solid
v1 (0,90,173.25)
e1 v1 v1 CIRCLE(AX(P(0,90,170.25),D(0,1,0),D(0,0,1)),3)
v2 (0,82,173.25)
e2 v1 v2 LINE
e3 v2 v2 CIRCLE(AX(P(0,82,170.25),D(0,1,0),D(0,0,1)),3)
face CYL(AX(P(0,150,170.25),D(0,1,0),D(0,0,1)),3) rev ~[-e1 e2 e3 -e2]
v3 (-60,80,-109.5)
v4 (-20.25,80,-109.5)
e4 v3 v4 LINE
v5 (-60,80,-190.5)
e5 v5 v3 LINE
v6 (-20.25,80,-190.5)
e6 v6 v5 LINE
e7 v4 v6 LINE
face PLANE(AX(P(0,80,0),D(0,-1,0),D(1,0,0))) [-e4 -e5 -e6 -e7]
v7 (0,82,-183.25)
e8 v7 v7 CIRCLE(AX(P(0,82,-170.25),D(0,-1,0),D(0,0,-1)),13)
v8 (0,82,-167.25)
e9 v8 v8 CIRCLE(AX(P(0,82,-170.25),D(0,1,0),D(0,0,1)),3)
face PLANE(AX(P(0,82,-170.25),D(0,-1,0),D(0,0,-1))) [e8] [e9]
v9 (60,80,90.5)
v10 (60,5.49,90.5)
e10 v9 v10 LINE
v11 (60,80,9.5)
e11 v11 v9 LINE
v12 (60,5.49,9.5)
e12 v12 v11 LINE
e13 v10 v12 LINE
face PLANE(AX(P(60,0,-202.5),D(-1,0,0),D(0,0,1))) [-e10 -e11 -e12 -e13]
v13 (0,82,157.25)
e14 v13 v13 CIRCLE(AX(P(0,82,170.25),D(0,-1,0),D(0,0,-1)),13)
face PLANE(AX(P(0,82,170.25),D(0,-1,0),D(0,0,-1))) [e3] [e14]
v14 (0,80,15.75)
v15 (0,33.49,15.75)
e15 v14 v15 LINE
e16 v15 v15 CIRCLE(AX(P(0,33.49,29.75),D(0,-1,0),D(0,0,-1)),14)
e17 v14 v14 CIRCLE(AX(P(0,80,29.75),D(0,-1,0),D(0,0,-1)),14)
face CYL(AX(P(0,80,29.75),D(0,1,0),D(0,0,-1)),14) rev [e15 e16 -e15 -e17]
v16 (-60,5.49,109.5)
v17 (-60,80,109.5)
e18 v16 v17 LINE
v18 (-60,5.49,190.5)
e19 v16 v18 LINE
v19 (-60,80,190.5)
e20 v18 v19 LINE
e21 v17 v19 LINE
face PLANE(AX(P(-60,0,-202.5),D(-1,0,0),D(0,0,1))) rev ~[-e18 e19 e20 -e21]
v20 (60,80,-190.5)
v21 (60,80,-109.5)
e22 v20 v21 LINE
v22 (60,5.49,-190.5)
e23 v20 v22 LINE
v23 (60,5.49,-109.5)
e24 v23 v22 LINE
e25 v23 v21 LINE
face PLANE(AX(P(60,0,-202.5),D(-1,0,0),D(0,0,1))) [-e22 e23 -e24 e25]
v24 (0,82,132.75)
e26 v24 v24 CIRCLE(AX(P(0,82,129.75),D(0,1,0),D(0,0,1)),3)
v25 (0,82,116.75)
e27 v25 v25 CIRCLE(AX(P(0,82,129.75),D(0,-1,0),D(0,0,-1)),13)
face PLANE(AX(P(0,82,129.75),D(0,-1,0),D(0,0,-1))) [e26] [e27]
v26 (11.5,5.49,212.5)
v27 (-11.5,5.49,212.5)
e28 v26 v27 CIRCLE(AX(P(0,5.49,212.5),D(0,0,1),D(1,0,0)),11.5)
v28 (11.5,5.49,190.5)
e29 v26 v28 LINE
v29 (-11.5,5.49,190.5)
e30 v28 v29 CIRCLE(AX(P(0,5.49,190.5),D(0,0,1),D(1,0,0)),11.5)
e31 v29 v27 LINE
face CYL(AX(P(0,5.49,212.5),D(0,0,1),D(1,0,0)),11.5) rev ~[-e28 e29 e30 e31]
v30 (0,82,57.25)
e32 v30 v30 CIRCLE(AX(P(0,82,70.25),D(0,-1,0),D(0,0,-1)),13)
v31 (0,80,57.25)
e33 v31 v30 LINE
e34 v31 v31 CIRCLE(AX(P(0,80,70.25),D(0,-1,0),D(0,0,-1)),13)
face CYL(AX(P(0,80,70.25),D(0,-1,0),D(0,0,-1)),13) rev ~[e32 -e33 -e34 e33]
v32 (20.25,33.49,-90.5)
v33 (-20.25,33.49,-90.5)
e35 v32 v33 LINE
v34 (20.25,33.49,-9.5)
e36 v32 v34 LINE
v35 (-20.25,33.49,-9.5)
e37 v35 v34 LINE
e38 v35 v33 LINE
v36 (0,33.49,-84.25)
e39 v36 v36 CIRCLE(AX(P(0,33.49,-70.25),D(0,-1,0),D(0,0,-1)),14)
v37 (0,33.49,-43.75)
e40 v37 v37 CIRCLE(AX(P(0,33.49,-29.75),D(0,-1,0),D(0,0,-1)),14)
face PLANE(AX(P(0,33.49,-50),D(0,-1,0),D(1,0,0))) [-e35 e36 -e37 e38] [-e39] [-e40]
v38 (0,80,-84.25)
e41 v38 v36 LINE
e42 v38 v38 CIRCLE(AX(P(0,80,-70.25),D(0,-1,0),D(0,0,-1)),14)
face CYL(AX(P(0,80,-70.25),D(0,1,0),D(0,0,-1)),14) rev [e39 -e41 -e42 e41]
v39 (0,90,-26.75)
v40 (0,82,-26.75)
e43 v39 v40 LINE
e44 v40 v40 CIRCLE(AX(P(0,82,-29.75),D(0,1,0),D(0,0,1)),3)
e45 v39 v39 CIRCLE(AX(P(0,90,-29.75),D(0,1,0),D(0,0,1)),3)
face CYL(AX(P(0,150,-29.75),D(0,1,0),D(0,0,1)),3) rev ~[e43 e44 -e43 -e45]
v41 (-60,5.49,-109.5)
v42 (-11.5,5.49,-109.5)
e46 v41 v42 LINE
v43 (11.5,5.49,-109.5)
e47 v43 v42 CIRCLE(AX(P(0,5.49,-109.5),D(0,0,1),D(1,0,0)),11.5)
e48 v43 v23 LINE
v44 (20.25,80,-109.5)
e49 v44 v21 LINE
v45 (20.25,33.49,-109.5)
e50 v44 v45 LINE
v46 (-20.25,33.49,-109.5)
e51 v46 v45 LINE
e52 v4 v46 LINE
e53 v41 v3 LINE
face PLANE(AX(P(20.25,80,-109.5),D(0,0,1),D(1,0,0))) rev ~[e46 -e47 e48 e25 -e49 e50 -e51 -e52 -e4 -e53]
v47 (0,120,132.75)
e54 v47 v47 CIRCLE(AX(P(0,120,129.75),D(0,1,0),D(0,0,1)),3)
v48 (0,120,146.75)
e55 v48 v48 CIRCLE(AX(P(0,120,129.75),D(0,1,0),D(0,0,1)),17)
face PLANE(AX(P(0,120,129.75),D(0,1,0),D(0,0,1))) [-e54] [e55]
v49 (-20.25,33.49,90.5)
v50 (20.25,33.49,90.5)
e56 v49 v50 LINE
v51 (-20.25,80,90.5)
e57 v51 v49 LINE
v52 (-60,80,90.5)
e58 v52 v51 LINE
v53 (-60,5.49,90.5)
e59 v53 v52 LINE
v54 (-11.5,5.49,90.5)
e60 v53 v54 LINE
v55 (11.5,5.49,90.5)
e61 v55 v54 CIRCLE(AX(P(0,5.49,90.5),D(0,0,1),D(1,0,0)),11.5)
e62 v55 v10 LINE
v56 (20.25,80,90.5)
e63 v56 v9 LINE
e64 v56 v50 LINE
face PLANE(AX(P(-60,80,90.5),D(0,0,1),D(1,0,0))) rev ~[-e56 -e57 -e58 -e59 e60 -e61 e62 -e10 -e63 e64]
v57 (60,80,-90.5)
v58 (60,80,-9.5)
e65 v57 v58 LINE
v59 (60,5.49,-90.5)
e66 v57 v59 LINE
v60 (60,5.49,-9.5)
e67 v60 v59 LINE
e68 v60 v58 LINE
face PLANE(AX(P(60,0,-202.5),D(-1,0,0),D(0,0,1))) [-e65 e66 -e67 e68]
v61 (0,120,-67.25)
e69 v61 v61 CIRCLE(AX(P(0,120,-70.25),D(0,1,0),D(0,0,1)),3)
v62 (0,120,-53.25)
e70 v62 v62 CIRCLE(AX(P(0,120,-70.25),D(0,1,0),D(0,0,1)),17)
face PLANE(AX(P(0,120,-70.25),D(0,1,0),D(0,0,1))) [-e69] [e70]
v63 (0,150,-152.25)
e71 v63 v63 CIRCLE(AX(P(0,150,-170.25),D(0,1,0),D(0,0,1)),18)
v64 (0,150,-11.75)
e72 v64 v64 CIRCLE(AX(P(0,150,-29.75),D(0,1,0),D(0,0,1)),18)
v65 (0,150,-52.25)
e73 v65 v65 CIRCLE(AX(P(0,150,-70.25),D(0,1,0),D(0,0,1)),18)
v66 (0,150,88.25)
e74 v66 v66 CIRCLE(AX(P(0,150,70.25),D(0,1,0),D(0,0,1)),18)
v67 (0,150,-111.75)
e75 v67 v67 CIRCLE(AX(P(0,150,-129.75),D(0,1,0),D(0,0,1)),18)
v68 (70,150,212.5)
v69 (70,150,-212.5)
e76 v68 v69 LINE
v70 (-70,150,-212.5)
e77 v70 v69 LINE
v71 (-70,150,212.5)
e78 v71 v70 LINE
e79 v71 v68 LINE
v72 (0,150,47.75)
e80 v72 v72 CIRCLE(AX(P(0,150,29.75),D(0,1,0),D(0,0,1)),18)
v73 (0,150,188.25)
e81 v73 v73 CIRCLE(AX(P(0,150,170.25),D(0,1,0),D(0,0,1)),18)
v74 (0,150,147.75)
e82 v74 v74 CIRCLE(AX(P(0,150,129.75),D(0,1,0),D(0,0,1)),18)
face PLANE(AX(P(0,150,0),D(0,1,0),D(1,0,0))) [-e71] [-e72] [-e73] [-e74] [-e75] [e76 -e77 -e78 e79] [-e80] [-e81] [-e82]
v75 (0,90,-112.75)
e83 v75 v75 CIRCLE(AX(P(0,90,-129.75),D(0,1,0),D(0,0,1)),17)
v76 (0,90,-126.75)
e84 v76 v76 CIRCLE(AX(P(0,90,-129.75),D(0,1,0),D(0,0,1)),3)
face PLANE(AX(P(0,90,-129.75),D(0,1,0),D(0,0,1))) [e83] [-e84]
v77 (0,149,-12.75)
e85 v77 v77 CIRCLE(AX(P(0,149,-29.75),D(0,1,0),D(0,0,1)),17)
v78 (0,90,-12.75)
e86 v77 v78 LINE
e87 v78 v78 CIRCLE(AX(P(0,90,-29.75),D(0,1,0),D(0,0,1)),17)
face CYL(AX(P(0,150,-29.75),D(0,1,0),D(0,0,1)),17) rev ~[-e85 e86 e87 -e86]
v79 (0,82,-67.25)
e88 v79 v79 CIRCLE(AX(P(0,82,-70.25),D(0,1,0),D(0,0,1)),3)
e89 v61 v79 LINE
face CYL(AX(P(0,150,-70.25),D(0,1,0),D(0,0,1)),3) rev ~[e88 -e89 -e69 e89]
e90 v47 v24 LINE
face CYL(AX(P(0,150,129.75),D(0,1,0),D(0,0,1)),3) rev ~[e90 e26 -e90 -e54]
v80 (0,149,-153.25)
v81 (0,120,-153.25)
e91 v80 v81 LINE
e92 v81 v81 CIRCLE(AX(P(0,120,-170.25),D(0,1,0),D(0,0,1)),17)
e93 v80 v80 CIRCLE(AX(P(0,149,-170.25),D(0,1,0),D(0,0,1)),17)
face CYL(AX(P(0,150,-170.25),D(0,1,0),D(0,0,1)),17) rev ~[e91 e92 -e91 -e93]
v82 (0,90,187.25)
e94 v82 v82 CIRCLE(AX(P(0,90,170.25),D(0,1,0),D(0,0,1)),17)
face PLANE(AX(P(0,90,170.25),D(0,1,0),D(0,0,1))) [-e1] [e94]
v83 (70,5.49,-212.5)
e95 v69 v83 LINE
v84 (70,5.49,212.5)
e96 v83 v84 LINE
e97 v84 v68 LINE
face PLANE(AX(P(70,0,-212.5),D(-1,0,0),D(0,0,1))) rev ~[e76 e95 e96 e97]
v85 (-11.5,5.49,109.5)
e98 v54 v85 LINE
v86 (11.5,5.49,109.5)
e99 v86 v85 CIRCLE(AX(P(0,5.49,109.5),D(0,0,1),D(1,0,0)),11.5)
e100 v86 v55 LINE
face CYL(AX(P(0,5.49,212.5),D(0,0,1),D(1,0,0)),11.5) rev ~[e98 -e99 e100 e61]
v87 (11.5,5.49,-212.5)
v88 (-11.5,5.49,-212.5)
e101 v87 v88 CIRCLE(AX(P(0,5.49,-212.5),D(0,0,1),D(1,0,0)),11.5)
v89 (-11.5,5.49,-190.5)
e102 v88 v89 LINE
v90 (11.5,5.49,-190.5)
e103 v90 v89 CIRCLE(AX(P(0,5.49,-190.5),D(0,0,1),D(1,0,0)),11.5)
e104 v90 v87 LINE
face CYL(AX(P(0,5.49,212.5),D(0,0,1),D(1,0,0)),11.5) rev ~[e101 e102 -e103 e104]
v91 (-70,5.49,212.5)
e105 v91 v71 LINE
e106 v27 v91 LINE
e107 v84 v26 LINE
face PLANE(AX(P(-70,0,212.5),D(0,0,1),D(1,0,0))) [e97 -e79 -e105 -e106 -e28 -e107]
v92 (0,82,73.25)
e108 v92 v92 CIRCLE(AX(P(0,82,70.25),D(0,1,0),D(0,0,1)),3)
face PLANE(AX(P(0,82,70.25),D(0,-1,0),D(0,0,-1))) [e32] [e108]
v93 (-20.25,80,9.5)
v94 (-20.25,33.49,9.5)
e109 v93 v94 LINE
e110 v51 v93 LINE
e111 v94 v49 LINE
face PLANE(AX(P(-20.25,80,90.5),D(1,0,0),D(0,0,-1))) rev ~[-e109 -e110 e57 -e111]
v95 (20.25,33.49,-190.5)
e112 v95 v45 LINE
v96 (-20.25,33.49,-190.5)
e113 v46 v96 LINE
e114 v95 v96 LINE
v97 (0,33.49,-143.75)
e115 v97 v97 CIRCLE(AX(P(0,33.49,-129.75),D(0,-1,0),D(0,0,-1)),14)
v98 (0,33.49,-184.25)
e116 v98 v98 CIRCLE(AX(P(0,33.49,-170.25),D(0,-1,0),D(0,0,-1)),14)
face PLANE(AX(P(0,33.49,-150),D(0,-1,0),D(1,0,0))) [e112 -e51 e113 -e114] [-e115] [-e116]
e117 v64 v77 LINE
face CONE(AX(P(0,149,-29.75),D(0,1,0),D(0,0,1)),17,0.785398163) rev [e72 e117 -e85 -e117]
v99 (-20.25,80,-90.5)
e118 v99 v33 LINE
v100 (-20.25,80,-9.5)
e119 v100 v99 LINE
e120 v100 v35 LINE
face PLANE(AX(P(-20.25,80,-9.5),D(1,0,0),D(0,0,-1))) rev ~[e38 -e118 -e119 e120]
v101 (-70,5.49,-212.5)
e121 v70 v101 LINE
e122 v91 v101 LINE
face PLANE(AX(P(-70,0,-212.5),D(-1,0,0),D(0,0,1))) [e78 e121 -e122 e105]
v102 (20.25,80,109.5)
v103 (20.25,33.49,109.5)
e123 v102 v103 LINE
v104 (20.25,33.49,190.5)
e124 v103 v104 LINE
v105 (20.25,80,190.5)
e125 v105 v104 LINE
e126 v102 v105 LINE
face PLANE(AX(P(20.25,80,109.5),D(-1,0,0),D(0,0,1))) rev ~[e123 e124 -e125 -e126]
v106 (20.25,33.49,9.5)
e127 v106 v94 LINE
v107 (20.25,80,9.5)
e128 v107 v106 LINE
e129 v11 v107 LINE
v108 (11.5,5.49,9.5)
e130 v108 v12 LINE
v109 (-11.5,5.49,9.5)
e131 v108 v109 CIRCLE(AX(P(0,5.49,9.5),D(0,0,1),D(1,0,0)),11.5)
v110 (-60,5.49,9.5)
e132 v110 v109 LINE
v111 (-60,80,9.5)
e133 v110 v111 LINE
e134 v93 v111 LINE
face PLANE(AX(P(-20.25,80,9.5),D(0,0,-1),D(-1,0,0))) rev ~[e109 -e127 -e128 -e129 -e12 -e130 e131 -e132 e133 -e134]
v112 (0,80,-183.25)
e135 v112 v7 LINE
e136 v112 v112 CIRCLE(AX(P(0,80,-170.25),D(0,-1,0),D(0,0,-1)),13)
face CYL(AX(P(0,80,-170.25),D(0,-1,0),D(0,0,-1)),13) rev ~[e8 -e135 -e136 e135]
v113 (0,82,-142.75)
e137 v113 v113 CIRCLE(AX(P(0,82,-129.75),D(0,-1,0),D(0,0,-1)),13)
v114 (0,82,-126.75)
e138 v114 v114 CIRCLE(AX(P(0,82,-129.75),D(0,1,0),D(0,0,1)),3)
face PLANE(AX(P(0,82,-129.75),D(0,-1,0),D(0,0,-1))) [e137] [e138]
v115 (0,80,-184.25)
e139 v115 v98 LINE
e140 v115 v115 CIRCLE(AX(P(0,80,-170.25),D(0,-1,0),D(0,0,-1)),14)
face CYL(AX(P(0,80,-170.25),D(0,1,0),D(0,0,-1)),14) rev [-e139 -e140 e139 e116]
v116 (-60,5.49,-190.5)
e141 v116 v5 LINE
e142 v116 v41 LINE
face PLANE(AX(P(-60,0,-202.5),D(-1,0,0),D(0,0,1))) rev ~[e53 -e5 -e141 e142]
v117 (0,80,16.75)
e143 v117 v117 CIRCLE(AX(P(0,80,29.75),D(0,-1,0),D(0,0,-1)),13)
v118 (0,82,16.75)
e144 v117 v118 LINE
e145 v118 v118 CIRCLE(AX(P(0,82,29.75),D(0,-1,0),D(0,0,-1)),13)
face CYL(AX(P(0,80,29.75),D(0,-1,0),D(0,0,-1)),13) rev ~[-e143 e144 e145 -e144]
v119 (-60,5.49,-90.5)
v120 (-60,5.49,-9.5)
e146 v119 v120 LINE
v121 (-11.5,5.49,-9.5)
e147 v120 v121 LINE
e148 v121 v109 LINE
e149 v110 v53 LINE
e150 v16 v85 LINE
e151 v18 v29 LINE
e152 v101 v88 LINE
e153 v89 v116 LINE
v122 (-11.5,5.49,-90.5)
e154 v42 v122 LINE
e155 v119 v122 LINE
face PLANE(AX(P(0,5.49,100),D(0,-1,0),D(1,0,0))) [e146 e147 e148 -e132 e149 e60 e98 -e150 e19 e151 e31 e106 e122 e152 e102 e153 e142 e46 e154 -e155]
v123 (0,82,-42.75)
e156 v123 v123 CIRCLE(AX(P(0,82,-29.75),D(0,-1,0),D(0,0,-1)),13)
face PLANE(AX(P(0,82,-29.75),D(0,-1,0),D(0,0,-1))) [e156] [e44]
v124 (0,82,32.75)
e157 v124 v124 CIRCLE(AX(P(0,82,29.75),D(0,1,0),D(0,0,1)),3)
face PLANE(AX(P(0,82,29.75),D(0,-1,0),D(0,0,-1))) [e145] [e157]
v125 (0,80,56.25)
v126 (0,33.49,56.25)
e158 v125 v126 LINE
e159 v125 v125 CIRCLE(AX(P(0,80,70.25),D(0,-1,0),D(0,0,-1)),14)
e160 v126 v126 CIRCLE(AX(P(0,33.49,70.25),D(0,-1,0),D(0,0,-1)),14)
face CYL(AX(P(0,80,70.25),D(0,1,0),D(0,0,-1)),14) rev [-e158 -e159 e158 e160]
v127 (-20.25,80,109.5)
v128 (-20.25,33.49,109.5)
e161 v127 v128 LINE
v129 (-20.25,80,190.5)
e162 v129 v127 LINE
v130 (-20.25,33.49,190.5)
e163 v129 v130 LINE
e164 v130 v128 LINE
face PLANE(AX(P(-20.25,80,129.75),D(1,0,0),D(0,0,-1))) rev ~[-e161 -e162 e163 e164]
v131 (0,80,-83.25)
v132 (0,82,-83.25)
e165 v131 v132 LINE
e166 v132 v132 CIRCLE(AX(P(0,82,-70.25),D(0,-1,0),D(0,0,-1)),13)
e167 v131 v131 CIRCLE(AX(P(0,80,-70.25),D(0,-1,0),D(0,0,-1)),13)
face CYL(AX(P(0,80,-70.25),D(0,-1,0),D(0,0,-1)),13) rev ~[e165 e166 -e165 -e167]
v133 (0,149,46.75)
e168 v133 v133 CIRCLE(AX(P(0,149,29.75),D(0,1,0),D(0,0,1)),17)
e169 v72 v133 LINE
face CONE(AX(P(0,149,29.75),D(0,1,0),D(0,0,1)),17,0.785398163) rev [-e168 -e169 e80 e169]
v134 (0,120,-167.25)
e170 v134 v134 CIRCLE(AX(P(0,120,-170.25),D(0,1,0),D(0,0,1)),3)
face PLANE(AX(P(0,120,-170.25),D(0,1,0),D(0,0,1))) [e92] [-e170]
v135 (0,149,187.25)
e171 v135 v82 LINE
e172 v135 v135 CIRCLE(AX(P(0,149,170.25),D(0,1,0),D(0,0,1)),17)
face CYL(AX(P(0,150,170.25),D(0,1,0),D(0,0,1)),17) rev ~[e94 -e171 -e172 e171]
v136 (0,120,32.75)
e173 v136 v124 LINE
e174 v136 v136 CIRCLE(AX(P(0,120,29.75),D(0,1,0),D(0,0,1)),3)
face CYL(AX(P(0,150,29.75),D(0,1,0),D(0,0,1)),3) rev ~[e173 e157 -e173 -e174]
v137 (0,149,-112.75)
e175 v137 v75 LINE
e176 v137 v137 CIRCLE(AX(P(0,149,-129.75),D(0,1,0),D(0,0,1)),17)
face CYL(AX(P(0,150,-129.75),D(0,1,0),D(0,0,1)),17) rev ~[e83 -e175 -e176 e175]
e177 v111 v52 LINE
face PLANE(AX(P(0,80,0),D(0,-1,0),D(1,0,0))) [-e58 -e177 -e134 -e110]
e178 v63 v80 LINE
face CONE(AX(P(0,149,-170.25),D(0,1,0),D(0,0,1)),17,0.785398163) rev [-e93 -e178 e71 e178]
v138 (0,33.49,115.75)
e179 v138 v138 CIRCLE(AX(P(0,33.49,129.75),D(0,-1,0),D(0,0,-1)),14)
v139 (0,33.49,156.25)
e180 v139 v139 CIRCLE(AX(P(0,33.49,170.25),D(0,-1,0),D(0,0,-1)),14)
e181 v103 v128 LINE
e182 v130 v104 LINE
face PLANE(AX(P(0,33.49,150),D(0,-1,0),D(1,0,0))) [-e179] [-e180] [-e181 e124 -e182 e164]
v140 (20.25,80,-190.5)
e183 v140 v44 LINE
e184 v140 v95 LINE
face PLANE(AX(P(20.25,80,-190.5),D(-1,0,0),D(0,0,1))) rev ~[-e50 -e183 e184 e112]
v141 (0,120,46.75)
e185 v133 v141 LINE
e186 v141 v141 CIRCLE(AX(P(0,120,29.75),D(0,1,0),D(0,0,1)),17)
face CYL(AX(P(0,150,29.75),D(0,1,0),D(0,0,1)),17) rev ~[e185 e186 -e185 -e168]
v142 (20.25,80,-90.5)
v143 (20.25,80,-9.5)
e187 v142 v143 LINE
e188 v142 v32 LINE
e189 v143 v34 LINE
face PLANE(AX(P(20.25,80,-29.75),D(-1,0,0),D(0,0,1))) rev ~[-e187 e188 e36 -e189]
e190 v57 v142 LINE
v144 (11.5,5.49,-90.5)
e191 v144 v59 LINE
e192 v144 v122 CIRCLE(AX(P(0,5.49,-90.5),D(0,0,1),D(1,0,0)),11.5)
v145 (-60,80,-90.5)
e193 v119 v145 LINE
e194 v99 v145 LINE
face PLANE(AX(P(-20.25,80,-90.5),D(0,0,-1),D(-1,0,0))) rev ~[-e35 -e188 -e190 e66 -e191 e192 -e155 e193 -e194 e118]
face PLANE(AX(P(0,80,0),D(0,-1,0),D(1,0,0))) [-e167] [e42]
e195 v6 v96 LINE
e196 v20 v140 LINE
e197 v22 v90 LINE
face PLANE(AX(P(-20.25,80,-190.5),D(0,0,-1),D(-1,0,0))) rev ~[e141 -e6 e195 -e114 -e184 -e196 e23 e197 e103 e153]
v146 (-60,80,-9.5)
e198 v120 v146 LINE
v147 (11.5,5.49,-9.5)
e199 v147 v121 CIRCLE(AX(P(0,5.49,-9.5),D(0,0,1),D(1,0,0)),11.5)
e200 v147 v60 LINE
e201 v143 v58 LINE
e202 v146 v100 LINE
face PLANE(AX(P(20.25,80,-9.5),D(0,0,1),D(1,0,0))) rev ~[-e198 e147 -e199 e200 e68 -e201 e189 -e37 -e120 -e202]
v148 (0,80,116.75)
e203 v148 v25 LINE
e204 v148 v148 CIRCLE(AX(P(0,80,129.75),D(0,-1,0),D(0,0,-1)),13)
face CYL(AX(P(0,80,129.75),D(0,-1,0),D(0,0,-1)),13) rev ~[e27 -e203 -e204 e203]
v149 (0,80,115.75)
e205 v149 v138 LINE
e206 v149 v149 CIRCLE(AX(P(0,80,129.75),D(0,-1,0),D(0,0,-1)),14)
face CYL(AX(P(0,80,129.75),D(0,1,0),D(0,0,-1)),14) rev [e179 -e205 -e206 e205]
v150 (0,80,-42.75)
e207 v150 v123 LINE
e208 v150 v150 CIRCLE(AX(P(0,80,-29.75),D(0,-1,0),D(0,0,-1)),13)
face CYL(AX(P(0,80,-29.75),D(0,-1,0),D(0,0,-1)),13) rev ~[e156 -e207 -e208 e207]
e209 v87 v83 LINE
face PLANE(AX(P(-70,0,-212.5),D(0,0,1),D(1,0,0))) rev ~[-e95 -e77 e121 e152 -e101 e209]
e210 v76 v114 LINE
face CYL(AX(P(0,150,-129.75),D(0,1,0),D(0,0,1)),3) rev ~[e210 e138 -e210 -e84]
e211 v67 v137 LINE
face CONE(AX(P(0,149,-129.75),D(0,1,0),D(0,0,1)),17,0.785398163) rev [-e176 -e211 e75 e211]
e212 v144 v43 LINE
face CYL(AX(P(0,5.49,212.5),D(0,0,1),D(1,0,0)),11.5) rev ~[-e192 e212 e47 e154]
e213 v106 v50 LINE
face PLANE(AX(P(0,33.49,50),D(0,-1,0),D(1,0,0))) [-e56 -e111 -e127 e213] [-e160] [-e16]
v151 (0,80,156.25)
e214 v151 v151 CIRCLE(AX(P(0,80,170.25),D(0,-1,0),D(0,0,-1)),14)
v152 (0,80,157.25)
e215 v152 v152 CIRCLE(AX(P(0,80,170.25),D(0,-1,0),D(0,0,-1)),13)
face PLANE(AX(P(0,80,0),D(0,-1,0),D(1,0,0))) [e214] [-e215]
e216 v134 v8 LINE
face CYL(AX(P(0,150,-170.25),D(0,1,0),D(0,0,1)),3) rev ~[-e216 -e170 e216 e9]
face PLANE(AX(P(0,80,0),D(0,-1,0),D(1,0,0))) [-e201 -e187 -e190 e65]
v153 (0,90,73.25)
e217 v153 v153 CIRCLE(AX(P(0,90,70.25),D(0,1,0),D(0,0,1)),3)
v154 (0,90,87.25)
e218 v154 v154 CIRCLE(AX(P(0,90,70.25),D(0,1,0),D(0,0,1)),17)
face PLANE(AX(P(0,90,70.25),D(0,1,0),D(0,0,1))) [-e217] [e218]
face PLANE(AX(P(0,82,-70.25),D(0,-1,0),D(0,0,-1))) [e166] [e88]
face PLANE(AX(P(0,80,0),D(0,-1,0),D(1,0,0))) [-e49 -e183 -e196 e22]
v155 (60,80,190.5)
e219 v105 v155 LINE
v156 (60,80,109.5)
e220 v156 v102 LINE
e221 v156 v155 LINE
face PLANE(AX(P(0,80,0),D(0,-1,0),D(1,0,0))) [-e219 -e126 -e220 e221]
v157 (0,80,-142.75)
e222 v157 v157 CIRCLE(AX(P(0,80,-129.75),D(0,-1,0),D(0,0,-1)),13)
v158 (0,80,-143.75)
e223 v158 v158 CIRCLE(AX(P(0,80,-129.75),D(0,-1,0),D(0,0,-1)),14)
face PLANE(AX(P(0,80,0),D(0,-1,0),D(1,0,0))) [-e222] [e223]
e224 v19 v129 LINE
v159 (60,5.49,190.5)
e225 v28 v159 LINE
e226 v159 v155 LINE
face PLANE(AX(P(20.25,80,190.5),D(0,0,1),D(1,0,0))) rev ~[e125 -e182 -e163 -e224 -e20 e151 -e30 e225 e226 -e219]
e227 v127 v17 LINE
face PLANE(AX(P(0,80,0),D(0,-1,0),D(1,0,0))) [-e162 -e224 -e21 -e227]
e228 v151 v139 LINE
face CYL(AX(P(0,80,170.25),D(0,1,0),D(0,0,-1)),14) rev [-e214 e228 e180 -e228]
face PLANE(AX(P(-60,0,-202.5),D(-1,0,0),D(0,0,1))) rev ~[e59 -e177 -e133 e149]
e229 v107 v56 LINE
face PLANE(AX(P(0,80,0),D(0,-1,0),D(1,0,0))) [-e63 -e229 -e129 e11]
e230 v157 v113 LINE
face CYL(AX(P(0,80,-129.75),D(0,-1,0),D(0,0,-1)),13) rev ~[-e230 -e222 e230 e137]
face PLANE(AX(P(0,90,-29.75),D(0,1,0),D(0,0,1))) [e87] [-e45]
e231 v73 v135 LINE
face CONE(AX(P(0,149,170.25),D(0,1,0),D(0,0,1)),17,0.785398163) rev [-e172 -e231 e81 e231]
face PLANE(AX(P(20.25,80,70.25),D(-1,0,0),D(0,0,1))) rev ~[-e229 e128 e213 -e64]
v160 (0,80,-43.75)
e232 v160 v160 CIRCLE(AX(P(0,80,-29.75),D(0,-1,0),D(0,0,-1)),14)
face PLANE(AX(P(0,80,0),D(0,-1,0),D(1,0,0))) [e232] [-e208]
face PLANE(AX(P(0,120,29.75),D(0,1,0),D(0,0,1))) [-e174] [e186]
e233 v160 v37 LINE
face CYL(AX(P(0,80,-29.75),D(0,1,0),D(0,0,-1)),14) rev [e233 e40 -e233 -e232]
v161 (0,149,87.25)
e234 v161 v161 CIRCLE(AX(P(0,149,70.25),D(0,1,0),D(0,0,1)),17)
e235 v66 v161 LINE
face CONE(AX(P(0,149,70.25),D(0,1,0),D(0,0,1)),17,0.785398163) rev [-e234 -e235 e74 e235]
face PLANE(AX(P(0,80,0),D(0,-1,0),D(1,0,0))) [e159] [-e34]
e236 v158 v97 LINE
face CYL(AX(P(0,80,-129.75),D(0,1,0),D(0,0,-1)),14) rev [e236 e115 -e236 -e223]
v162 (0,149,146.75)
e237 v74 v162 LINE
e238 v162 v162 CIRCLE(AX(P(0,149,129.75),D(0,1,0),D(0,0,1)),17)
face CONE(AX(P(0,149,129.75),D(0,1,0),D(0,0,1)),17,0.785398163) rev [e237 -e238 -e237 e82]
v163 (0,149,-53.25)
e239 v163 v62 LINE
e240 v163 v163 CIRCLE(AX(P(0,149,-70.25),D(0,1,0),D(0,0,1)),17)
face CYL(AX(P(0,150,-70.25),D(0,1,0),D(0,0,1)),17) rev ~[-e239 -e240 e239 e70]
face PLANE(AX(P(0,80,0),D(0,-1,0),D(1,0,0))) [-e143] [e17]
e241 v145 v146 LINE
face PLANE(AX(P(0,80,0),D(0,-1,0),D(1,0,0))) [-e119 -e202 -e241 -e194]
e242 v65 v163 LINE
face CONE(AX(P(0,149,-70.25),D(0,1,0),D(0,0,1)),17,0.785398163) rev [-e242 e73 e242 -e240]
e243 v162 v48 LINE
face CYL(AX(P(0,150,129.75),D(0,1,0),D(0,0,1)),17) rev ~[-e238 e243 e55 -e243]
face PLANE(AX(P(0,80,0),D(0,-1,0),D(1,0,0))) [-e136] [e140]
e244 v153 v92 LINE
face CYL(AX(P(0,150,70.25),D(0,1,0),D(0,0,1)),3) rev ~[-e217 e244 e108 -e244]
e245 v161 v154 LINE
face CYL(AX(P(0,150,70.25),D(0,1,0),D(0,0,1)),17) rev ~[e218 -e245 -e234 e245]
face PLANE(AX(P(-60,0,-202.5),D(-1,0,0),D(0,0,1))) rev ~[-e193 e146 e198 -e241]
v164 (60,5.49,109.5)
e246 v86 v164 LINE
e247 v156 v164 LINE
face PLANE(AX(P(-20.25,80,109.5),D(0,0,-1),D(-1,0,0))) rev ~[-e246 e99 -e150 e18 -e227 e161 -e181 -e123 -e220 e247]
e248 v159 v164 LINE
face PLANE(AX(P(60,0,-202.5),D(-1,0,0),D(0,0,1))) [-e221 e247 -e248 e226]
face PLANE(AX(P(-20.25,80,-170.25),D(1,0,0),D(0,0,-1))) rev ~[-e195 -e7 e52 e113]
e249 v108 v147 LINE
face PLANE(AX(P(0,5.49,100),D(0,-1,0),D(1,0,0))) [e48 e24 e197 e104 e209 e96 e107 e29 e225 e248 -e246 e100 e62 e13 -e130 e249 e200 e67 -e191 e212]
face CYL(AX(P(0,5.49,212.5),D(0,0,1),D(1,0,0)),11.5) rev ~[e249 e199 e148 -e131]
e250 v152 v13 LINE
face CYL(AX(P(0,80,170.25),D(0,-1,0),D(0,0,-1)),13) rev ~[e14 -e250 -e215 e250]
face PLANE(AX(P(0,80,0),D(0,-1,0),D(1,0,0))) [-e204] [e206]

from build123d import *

# Parameters (mm, degrees)
SKETCH1_W            = 140
SKETCH1_H            = 425
BOSS_EXTRUDE1_DEPTH  = 150
SKETCH6_W            = 120
SKETCH6_H            = 405
CUT_EXTRUDE1_DEPTH   = 80
SKETCH7_R            = 3
CUT_EXTRUDE2_DEPTH   = 120
SKETCH9_R            = 17
SKETCH9_R_2          = 3
CUT_EXTRUDE4_DEPTH   = 60
SKETCH9_4_R          = 17
SKETCH9_4_R_2        = 3
CUT_EXTRUDE5_DEPTH   = 30
CHAMFER1_SIZE        = 1
SKETCH12_R           = 13
CUT_EXTRUDE6_DEPTH   = 2
SKETCH13_R           = 20.25
SKETCH13_R_2         = 14
BOSS_EXTRUDE6_DEPTH  = 46.51
SKETCH16_W           = 140
SKETCH16_H           = 425
SKETCH16_W_2         = 120
SKETCH16_H_2         = 405
BOSS_EXTRUDE7_DEPTH  = 48
BOSS_EXTRUDE18_DEPTH = 128
SKETCH22_W           = 120
SKETCH22_H           = 81
CUT_EXTRUDE9_DEPTH   = 81.49
CUT_EXTRUDE10_REACH  = 458.098
SKETCH18_R           = 11.5
CUT_EXTRUDE11_DEPTH  = 53.49
SKETCH24_W           = 120
SKETCH24_H           = 19
CUT_EXTRUDE12_DEPTH  = 53.49
SKETCH25_W           = 40.5
SKETCH25_H           = 22
CUT_EXTRUDE13_DEPTH  = 53.49


with BuildPart() as part:
    # Sketch1 → Boss-Extrude1 (new body)
    with BuildSketch(Plane(origin=(0, 0, 0), x_dir=(1, 0, 0), z_dir=(0, 1, 0))):
        Rectangle(SKETCH1_W, SKETCH1_H)
    extrude(amount=BOSS_EXTRUDE1_DEPTH)

    # Sketch6 → Cut-Extrude1 (cut)
    with BuildSketch(Plane.XZ):
        Rectangle(SKETCH6_W, SKETCH6_H)
    extrude(amount=-CUT_EXTRUDE1_DEPTH, mode=Mode.SUBTRACT)

    # Sketch7 → Cut-Extrude2 (cut)
    with BuildSketch(Plane(origin=(0, 150, 0), x_dir=(1, 0, 0), z_dir=(0, 1, 0))):
        with Locations(Location((0, 170.25, 0), (0, 0, 270))):
            Circle(SKETCH7_R)
        with Locations(Location((0, 129.75, 0), (0, 0, 270))):
            Circle(SKETCH7_R)
        with Locations(Location((0, 70.25, 0), (0, 0, 270))):
            Circle(SKETCH7_R)
        with Locations(Location((0, 29.75, 0), (0, 0, 270))):
            Circle(SKETCH7_R)
        with Locations(Location((0, -29.75, 0), (0, 0, 270))):
            Circle(SKETCH7_R)
        with Locations(Location((0, -70.25, 0), (0, 0, 270))):
            Circle(SKETCH7_R)
        with Locations(Location((0, -129.75, 0), (0, 0, 270))):
            Circle(SKETCH7_R)
        with Locations(Location((0, -170.25, 0), (0, 0, 270))):
            Circle(SKETCH7_R)
    extrude(amount=-CUT_EXTRUDE2_DEPTH, mode=Mode.SUBTRACT)

    # Sketch9 → Cut-Extrude4 (cut)
    # profile 1 of 4: a face of its own
    with BuildSketch(Plane(origin=(0, 150, 0), x_dir=(1, 0, 0), z_dir=(0, 1, 0))):
        with Locations(Location((0, -170.25, 0), (0, 0, 270))):
            Circle(SKETCH9_R)
        with Locations(Location((0, -170.25, 0), (0, 0, 270))):
            Circle(SKETCH9_R_2, mode=Mode.SUBTRACT)
    # profile 2 of 4: a face of its own
    with BuildSketch(Plane(origin=(0, 150, 0), x_dir=(1, 0, 0), z_dir=(0, 1, 0))):
        with Locations(Location((0, -70.25, 0), (0, 0, 270))):
            Circle(SKETCH9_R)
        with Locations(Location((0, -70.25, 0), (0, 0, 270))):
            Circle(SKETCH9_R_2, mode=Mode.SUBTRACT)
    # profile 3 of 4: a face of its own
    with BuildSketch(Plane(origin=(0, 150, 0), x_dir=(1, 0, 0), z_dir=(0, 1, 0))):
        with Locations(Location((0, 29.75, 0), (0, 0, 270))):
            Circle(SKETCH9_R)
        with Locations(Location((0, 29.75, 0), (0, 0, 270))):
            Circle(SKETCH9_R_2, mode=Mode.SUBTRACT)
    # profile 4 of 4: a face of its own
    with BuildSketch(Plane(origin=(0, 150, 0), x_dir=(1, 0, 0), z_dir=(0, 1, 0))):
        with Locations(Location((0, 129.75, 0), (0, 0, 270))):
            Circle(SKETCH9_R)
        with Locations(Location((0, 129.75, 0), (0, 0, 270))):
            Circle(SKETCH9_R_2, mode=Mode.SUBTRACT)
    extrude(amount=-CUT_EXTRUDE4_DEPTH, mode=Mode.SUBTRACT)

    # Sketch9<4> → Cut-Extrude5 (cut)
    # profile 1 of 4: a face of its own
    with BuildSketch(Plane(origin=(0, 150, 0), x_dir=(1, 0, 0), z_dir=(0, 1, 0))):
        with Locations(Location((0, -129.75, 0), (0, 0, 270))):
            Circle(SKETCH9_4_R)
        with Locations(Location((0, -129.75, 0), (0, 0, 270))):
            Circle(SKETCH9_4_R_2, mode=Mode.SUBTRACT)
    # profile 2 of 4: a face of its own
    with BuildSketch(Plane(origin=(0, 150, 0), x_dir=(1, 0, 0), z_dir=(0, 1, 0))):
        with Locations(Location((0, -29.75, 0), (0, 0, 270))):
            Circle(SKETCH9_4_R)
        with Locations(Location((0, -29.75, 0), (0, 0, 270))):
            Circle(SKETCH9_4_R_2, mode=Mode.SUBTRACT)
    # profile 3 of 4: a face of its own
    with BuildSketch(Plane(origin=(0, 150, 0), x_dir=(1, 0, 0), z_dir=(0, 1, 0))):
        with Locations(Location((0, 70.25, 0), (0, 0, 270))):
            Circle(SKETCH9_4_R)
        with Locations(Location((0, 70.25, 0), (0, 0, 270))):
            Circle(SKETCH9_4_R_2, mode=Mode.SUBTRACT)
    # profile 4 of 4: a face of its own
    with BuildSketch(Plane(origin=(0, 150, 0), x_dir=(1, 0, 0), z_dir=(0, 1, 0))):
        with Locations(Location((0, 170.25, 0), (0, 0, 270))):
            Circle(SKETCH9_4_R)
        with Locations(Location((0, 170.25, 0), (0, 0, 270))):
            Circle(SKETCH9_4_R_2, mode=Mode.SUBTRACT)
    extrude(amount=-CUT_EXTRUDE5_DEPTH, mode=Mode.SUBTRACT)

    # Chamfer1
    chamfer1_edges = [part.edges().sort_by_distance(p)[0] for p in [
        (0, 150, 112.75),
        (0, 150, 12.75),
        (0, 150, -87.25),
        (0, 150, -187.25),
        (0, 150, 153.25),
        (0, 150, 53.25),
        (0, 150, -46.75),
        (0, 150, -146.75),
    ]]
    chamfer(chamfer1_edges, length=CHAMFER1_SIZE)

    # Sketch12 → Cut-Extrude6 (cut)
    with BuildSketch(Plane.XZ.offset(-80)):
        with Locations(Location((0, 170.25, 0), (0, 0, 270))):
            Circle(SKETCH12_R)
        with Locations(Location((0, 129.75, 0), (0, 0, 270))):
            Circle(SKETCH12_R)
        with Locations(Location((0, 70.25, 0), (0, 0, 270))):
            Circle(SKETCH12_R)
        with Locations(Location((0, 29.75, 0), (0, 0, 270))):
            Circle(SKETCH12_R)
        with Locations(Location((0, -29.75, 0), (0, 0, 270))):
            Circle(SKETCH12_R)
        with Locations(Location((0, -70.25, 0), (0, 0, 270))):
            Circle(SKETCH12_R)
        with Locations(Location((0, -129.75, 0), (0, 0, 270))):
            Circle(SKETCH12_R)
        with Locations(Location((0, -170.25, 0), (0, 0, 270))):
            Circle(SKETCH12_R)
    extrude(amount=-CUT_EXTRUDE6_DEPTH, mode=Mode.SUBTRACT)

    # Sketch13 → Boss-Extrude6 (add)
    # profile 1 of 16: a face of its own
    with BuildSketch(Plane.XZ.offset(-80)):
        with Locations((0, 129.75)):
            Circle(SKETCH13_R)
        with Locations(Location((0, 129.75, 0), (0, 0, 270))):
            Circle(SKETCH13_R_2, mode=Mode.SUBTRACT)
    # profile 2 of 16: a face of its own
    with BuildSketch(Plane.XZ.offset(-80)):
        with BuildLine():
            ThreePointArc((5.52e-07, 150), (-14.318912124, 155.931087486), (-20.25, 170.25))
            Line((-20.25, 170.25), (-20.25, 129.75))
            ThreePointArc((-20.25, 129.75), (-14.318912124, 144.068912514), (5.52e-07, 150))
        make_face()
    # profile 3 of 16: a face of its own
    with BuildSketch(Plane.XZ.offset(-80)):
        with Locations((0, 170.25)):
            Circle(SKETCH13_R)
        with Locations(Location((0, 170.25, 0), (0, 0, 270))):
            Circle(SKETCH13_R_2, mode=Mode.SUBTRACT)
    # profile 4 of 16: a face of its own
    with BuildSketch(Plane.XZ.offset(-80)):
        with BuildLine():
            Line((20.25, 129.75), (20.25, 170.25))
            ThreePointArc((20.25, 170.25), (14.318912514, 155.931087876), (5.52e-07, 150))
            ThreePointArc((5.52e-07, 150), (14.318912514, 144.068912124), (20.25, 129.75))
        make_face()
    # profile 5 of 16: a face of its own
    with BuildSketch(Plane.XZ.offset(-80)):
        with BuildLine():
            ThreePointArc((-7.7e-08, 50), (-14.318912346, 55.931087708), (-20.25, 70.25))
            Line((-20.25, 70.25), (-20.25, 29.75))
            ThreePointArc((-20.25, 29.75), (-14.318912346, 44.068912292), (-7.7e-08, 50))
        make_face()
    # profile 6 of 16: a face of its own
    with BuildSketch(Plane.XZ.offset(-80)):
        with Locations((0, 29.75)):
            Circle(SKETCH13_R)
        with Locations(Location((0, 29.75, 0), (0, 0, 270))):
            Circle(SKETCH13_R_2, mode=Mode.SUBTRACT)
    # profile 7 of 16: a face of its own
    with BuildSketch(Plane.XZ.offset(-80)):
        with BuildLine():
            Line((20.25, 29.75), (20.25, 70.25))
            ThreePointArc((20.25, 70.25), (14.318912292, 55.931087654), (-7.7e-08, 50))
            ThreePointArc((-7.7e-08, 50), (14.318912292, 44.068912346), (20.25, 29.75))
        make_face()
    # profile 8 of 16: a face of its own
    with BuildSketch(Plane.XZ.offset(-80)):
        with Locations((0, 70.25)):
            Circle(SKETCH13_R)
        with Locations(Location((0, 70.25, 0), (0, 0, 270))):
            Circle(SKETCH13_R_2, mode=Mode.SUBTRACT)
    # profile 9 of 16: a face of its own
    with BuildSketch(Plane.XZ.offset(-80)):
        with BuildLine():
            ThreePointArc((2.8e-07, -50), (-14.31891222, -44.068912418), (-20.25, -29.75))
            Line((-20.25, -29.75), (-20.25, -70.25))
            ThreePointArc((-20.25, -70.25), (-14.31891222, -55.931087582), (2.8e-07, -50))
        make_face()
    # profile 10 of 16: a face of its own
    with BuildSketch(Plane.XZ.offset(-80)):
        with BuildLine():
            Line((20.25, -70.25), (20.25, -29.75))
            ThreePointArc((20.25, -29.75), (14.318912418, -44.06891222), (2.8e-07, -50))
            ThreePointArc((2.8e-07, -50), (14.318912418, -55.93108778), (20.25, -70.25))
        make_face()
    # profile 11 of 16: a face of its own
    with BuildSketch(Plane.XZ.offset(-80)):
        with Locations((0, -29.75)):
            Circle(SKETCH13_R)
        with Locations(Location((0, -29.75, 0), (0, 0, 270))):
            Circle(SKETCH13_R_2, mode=Mode.SUBTRACT)
    # profile 12 of 16: a face of its own
    with BuildSketch(Plane.XZ.offset(-80)):
        with Locations((0, -70.25)):
            Circle(SKETCH13_R)
        with Locations(Location((0, -70.25, 0), (0, 0, 270))):
            Circle(SKETCH13_R_2, mode=Mode.SUBTRACT)
    # profile 13 of 16: a face of its own
    with BuildSketch(Plane.XZ.offset(-80)):
        with BuildLine():
            ThreePointArc((1.2e-07, -150), (-14.318912276, -144.068912362), (-20.25, -129.75))
            Line((-20.25, -129.75), (-20.25, -170.25))
            ThreePointArc((-20.25, -170.25), (-14.318912276, -155.931087638), (1.2e-07, -150))
        make_face()
    # profile 14 of 16: a face of its own
    with BuildSketch(Plane.XZ.offset(-80)):
        with BuildLine():
            Line((20.25, -170.25), (20.25, -129.75))
            ThreePointArc((20.25, -129.75), (14.318912362, -144.068912276), (1.2e-07, -150))
            ThreePointArc((1.2e-07, -150), (14.318912362, -155.931087724), (20.25, -170.25))
        make_face()
    # profile 15 of 16: a face of its own
    with BuildSketch(Plane.XZ.offset(-80)):
        with Locations((0, -129.75)):
            Circle(SKETCH13_R)
        with Locations(Location((0, -129.75, 0), (0, 0, 270))):
            Circle(SKETCH13_R_2, mode=Mode.SUBTRACT)
    # profile 16 of 16: a face of its own
    with BuildSketch(Plane.XZ.offset(-80)):
        with Locations((0, -170.25)):
            Circle(SKETCH13_R)
        with Locations(Location((0, -170.25, 0), (0, 0, 270))):
            Circle(SKETCH13_R_2, mode=Mode.SUBTRACT)
    extrude(amount=BOSS_EXTRUDE6_DEPTH)

    # Sketch16 → Boss-Extrude7 (add)
    with BuildSketch(Plane.XZ):
        Rectangle(SKETCH16_W, SKETCH16_H)
        Rectangle(SKETCH16_W_2, SKETCH16_H_2, mode=Mode.SUBTRACT)
    extrude(amount=BOSS_EXTRUDE7_DEPTH)

    # Sketch19 → Boss-Extrude18 (add)
    with BuildSketch(Plane.XZ.offset(-80)):
        with BuildLine():
            Line((-60, 109.5), (-60, 90.5))
            Line((-60, 90.5), (-20.25, 90.5))
            Line((-20.25, 90.5), (-20.25, 70.25))
            ThreePointArc((-20.25, 70.25), (0, 90.5), (20.25, 70.25))
            Line((20.25, 70.25), (20.25, 90.5))
            Line((20.25, 90.5), (60, 90.5))
            Line((60, 90.5), (60, 109.5))
            Line((60, 109.5), (20.25, 109.5))
            Line((20.25, 109.5), (20.25, 129.75))
            ThreePointArc((20.25, 129.75), (0, 109.5), (-20.25, 129.75))
            Line((-20.25, 129.75), (-20.25, 109.5))
            Line((-20.25, 109.5), (-60, 109.5))
        make_face()
        with BuildLine():
            Line((-20.25, 9.5), (-60, 9.5))
            Line((-60, 9.5), (-60, -9.5))
            Line((-60, -9.5), (-20.25, -9.5))
            Line((-20.25, -9.5), (-20.25, -29.75))
            ThreePointArc((-20.25, -29.75), (0, -9.5), (20.25, -29.75))
            Line((20.25, -29.75), (20.25, -9.5))
            Line((20.25, -9.5), (60, -9.5))
            Line((60, -9.5), (60, 9.5))
            Line((60, 9.5), (20.25, 9.5))
            Line((20.25, 9.5), (20.25, 29.75))
            ThreePointArc((20.25, 29.75), (0, 9.5), (-20.25, 29.75))
            Line((-20.25, 29.75), (-20.25, 9.5))
        make_face()
        with BuildLine():
            Line((-60, 202.5), (-60, 190.5))
            Line((-60, 190.5), (-20.25, 190.5))
            Line((-20.25, 190.5), (-20.25, 170.25))
            ThreePointArc((-20.25, 170.25), (0, 190.5), (20.25, 170.25))
            Line((20.25, 170.25), (20.25, 190.5))
            Line((20.25, 190.5), (60, 190.5))
            Line((60, 190.5), (60, 202.5))
            Line((60, 202.5), (-60, 202.5))
        make_face()
        with BuildLine():
            Line((-20.25, -90.5), (-60, -90.5))
            Line((-60, -90.5), (-60, -109.5))
            Line((-60, -109.5), (-20.25, -109.5))
            Line((-20.25, -109.5), (-20.25, -129.75))
            ThreePointArc((-20.25, -129.75), (0, -109.5), (20.25, -129.75))
            Line((20.25, -129.75), (20.25, -109.5))
            Line((20.25, -109.5), (60, -109.5))
            Line((60, -109.5), (60, -90.5))
            Line((60, -90.5), (20.25, -90.5))
            Line((20.25, -90.5), (20.25, -70.25))
            ThreePointArc((20.25, -70.25), (0, -90.5), (-20.25, -70.25))
            Line((-20.25, -70.25), (-20.25, -90.5))
        make_face()
        with BuildLine():
            Line((-60, -190.5), (-60, -202.5))
            Line((-60, -202.5), (60, -202.5))
            Line((60, -202.5), (60, -190.5))
            Line((60, -190.5), (20.25, -190.5))
            Line((20.25, -190.5), (20.25, -170.25))
            ThreePointArc((20.25, -170.25), (0, -190.5), (-20.25, -170.25))
            Line((-20.25, -170.25), (-20.25, -190.5))
            Line((-20.25, -190.5), (-60, -190.5))
        make_face()
    extrude(amount=BOSS_EXTRUDE18_DEPTH)

    # Sketch22 → Cut-Extrude9 (cut)
    with BuildSketch(Plane.XZ.offset(48)):
        with Locations((0, 150)):
            Rectangle(SKETCH22_W, SKETCH22_H)
        with Locations((0, 50)):
            Rectangle(SKETCH22_W, SKETCH22_H)
        with Locations((0, -50)):
            Rectangle(SKETCH22_W, SKETCH22_H)
        with Locations((0, -150)):
            Rectangle(SKETCH22_W, SKETCH22_H)
    extrude(amount=-CUT_EXTRUDE9_DEPTH, mode=Mode.SUBTRACT)

    # Cut-Extrude10: up to this face of the body (flat: up to its plane)
    cut_extrude10_end = Plane(part.part.faces().sort_by_distance((0, 51, -212.5))[0])
    # Sketch18 → Cut-Extrude10 (cut, up to the picked face)
    with BuildSketch(Plane.XY.offset(212.5), mode=Mode.PRIVATE) as cut_extrude10_sk1:
        with Locations((0, 5.49)):
            Circle(SKETCH18_R)
    cut_extrude10_tool1 = split(extrude(cut_extrude10_sk1.sketch, amount=-CUT_EXTRUDE10_REACH, mode=Mode.PRIVATE), bisect_by=cut_extrude10_end, keep=Keep.BOTH, mode=Mode.PRIVATE)
    add(cut_extrude10_tool1.solids().sort_by(Axis((0, 5.49, 212.5), (0, 0, -1)))[0], mode=Mode.SUBTRACT)

    # Sketch23 → Cut-Extrude11 (cut)
    with BuildSketch(Plane.XZ.offset(48)):
        Polygon((-70, 212.5), (-70, 190.5), (-60, 190.5), (-20.25, 190.5), (-20.25, 212.5), align=None)
        Polygon((-70, 190.5), (-70, -190.5), (-60, -190.5), (-60, -109.5), (-60, -90.5), (-60, -9.5), (-60, 9.5), (-60, 90.5), (-60, 109.5), (-60, 190.5), align=None)
        Polygon((60, 190.5), (70, 190.5), (70, 212.5), (20.25, 212.5), (20.25, 190.5), align=None)
        Polygon((60, -190.5), (70, -190.5), (70, 190.5), (60, 190.5), (60, 109.5), (60, 90.5), (60, 9.5), (60, -9.5), (60, -90.5), (60, -109.5), align=None)
        Polygon((-70, -190.5), (-70, -212.5), (-20.25, -212.5), (-20.25, -190.5), (-60, -190.5), align=None)
        Polygon((20.25, -190.5), (20.25, -212.5), (70, -212.5), (70, -190.5), (60, -190.5), align=None)
    extrude(amount=-CUT_EXTRUDE11_DEPTH, mode=Mode.SUBTRACT)

    # Sketch24 → Cut-Extrude12 (cut)
    with BuildSketch(Plane.XZ.offset(48)):
        with Locations((0, -100)):
            Rectangle(SKETCH24_W, SKETCH24_H)
        Rectangle(SKETCH24_W, SKETCH24_H)
        with Locations((0, 100)):
            Rectangle(SKETCH24_W, SKETCH24_H)
    extrude(amount=-CUT_EXTRUDE12_DEPTH, mode=Mode.SUBTRACT)

    # Sketch25 → Cut-Extrude13 (cut)
    with BuildSketch(Plane.XZ.offset(48)):
        with Locations((0, -201.5)):
            Rectangle(SKETCH25_W, SKETCH25_H)
        with Locations((0, 201.5)):
            Rectangle(SKETCH25_W, SKETCH25_H)
    extrude(amount=-CUT_EXTRUDE13_DEPTH, mode=Mode.SUBTRACT)


solid = part.part
